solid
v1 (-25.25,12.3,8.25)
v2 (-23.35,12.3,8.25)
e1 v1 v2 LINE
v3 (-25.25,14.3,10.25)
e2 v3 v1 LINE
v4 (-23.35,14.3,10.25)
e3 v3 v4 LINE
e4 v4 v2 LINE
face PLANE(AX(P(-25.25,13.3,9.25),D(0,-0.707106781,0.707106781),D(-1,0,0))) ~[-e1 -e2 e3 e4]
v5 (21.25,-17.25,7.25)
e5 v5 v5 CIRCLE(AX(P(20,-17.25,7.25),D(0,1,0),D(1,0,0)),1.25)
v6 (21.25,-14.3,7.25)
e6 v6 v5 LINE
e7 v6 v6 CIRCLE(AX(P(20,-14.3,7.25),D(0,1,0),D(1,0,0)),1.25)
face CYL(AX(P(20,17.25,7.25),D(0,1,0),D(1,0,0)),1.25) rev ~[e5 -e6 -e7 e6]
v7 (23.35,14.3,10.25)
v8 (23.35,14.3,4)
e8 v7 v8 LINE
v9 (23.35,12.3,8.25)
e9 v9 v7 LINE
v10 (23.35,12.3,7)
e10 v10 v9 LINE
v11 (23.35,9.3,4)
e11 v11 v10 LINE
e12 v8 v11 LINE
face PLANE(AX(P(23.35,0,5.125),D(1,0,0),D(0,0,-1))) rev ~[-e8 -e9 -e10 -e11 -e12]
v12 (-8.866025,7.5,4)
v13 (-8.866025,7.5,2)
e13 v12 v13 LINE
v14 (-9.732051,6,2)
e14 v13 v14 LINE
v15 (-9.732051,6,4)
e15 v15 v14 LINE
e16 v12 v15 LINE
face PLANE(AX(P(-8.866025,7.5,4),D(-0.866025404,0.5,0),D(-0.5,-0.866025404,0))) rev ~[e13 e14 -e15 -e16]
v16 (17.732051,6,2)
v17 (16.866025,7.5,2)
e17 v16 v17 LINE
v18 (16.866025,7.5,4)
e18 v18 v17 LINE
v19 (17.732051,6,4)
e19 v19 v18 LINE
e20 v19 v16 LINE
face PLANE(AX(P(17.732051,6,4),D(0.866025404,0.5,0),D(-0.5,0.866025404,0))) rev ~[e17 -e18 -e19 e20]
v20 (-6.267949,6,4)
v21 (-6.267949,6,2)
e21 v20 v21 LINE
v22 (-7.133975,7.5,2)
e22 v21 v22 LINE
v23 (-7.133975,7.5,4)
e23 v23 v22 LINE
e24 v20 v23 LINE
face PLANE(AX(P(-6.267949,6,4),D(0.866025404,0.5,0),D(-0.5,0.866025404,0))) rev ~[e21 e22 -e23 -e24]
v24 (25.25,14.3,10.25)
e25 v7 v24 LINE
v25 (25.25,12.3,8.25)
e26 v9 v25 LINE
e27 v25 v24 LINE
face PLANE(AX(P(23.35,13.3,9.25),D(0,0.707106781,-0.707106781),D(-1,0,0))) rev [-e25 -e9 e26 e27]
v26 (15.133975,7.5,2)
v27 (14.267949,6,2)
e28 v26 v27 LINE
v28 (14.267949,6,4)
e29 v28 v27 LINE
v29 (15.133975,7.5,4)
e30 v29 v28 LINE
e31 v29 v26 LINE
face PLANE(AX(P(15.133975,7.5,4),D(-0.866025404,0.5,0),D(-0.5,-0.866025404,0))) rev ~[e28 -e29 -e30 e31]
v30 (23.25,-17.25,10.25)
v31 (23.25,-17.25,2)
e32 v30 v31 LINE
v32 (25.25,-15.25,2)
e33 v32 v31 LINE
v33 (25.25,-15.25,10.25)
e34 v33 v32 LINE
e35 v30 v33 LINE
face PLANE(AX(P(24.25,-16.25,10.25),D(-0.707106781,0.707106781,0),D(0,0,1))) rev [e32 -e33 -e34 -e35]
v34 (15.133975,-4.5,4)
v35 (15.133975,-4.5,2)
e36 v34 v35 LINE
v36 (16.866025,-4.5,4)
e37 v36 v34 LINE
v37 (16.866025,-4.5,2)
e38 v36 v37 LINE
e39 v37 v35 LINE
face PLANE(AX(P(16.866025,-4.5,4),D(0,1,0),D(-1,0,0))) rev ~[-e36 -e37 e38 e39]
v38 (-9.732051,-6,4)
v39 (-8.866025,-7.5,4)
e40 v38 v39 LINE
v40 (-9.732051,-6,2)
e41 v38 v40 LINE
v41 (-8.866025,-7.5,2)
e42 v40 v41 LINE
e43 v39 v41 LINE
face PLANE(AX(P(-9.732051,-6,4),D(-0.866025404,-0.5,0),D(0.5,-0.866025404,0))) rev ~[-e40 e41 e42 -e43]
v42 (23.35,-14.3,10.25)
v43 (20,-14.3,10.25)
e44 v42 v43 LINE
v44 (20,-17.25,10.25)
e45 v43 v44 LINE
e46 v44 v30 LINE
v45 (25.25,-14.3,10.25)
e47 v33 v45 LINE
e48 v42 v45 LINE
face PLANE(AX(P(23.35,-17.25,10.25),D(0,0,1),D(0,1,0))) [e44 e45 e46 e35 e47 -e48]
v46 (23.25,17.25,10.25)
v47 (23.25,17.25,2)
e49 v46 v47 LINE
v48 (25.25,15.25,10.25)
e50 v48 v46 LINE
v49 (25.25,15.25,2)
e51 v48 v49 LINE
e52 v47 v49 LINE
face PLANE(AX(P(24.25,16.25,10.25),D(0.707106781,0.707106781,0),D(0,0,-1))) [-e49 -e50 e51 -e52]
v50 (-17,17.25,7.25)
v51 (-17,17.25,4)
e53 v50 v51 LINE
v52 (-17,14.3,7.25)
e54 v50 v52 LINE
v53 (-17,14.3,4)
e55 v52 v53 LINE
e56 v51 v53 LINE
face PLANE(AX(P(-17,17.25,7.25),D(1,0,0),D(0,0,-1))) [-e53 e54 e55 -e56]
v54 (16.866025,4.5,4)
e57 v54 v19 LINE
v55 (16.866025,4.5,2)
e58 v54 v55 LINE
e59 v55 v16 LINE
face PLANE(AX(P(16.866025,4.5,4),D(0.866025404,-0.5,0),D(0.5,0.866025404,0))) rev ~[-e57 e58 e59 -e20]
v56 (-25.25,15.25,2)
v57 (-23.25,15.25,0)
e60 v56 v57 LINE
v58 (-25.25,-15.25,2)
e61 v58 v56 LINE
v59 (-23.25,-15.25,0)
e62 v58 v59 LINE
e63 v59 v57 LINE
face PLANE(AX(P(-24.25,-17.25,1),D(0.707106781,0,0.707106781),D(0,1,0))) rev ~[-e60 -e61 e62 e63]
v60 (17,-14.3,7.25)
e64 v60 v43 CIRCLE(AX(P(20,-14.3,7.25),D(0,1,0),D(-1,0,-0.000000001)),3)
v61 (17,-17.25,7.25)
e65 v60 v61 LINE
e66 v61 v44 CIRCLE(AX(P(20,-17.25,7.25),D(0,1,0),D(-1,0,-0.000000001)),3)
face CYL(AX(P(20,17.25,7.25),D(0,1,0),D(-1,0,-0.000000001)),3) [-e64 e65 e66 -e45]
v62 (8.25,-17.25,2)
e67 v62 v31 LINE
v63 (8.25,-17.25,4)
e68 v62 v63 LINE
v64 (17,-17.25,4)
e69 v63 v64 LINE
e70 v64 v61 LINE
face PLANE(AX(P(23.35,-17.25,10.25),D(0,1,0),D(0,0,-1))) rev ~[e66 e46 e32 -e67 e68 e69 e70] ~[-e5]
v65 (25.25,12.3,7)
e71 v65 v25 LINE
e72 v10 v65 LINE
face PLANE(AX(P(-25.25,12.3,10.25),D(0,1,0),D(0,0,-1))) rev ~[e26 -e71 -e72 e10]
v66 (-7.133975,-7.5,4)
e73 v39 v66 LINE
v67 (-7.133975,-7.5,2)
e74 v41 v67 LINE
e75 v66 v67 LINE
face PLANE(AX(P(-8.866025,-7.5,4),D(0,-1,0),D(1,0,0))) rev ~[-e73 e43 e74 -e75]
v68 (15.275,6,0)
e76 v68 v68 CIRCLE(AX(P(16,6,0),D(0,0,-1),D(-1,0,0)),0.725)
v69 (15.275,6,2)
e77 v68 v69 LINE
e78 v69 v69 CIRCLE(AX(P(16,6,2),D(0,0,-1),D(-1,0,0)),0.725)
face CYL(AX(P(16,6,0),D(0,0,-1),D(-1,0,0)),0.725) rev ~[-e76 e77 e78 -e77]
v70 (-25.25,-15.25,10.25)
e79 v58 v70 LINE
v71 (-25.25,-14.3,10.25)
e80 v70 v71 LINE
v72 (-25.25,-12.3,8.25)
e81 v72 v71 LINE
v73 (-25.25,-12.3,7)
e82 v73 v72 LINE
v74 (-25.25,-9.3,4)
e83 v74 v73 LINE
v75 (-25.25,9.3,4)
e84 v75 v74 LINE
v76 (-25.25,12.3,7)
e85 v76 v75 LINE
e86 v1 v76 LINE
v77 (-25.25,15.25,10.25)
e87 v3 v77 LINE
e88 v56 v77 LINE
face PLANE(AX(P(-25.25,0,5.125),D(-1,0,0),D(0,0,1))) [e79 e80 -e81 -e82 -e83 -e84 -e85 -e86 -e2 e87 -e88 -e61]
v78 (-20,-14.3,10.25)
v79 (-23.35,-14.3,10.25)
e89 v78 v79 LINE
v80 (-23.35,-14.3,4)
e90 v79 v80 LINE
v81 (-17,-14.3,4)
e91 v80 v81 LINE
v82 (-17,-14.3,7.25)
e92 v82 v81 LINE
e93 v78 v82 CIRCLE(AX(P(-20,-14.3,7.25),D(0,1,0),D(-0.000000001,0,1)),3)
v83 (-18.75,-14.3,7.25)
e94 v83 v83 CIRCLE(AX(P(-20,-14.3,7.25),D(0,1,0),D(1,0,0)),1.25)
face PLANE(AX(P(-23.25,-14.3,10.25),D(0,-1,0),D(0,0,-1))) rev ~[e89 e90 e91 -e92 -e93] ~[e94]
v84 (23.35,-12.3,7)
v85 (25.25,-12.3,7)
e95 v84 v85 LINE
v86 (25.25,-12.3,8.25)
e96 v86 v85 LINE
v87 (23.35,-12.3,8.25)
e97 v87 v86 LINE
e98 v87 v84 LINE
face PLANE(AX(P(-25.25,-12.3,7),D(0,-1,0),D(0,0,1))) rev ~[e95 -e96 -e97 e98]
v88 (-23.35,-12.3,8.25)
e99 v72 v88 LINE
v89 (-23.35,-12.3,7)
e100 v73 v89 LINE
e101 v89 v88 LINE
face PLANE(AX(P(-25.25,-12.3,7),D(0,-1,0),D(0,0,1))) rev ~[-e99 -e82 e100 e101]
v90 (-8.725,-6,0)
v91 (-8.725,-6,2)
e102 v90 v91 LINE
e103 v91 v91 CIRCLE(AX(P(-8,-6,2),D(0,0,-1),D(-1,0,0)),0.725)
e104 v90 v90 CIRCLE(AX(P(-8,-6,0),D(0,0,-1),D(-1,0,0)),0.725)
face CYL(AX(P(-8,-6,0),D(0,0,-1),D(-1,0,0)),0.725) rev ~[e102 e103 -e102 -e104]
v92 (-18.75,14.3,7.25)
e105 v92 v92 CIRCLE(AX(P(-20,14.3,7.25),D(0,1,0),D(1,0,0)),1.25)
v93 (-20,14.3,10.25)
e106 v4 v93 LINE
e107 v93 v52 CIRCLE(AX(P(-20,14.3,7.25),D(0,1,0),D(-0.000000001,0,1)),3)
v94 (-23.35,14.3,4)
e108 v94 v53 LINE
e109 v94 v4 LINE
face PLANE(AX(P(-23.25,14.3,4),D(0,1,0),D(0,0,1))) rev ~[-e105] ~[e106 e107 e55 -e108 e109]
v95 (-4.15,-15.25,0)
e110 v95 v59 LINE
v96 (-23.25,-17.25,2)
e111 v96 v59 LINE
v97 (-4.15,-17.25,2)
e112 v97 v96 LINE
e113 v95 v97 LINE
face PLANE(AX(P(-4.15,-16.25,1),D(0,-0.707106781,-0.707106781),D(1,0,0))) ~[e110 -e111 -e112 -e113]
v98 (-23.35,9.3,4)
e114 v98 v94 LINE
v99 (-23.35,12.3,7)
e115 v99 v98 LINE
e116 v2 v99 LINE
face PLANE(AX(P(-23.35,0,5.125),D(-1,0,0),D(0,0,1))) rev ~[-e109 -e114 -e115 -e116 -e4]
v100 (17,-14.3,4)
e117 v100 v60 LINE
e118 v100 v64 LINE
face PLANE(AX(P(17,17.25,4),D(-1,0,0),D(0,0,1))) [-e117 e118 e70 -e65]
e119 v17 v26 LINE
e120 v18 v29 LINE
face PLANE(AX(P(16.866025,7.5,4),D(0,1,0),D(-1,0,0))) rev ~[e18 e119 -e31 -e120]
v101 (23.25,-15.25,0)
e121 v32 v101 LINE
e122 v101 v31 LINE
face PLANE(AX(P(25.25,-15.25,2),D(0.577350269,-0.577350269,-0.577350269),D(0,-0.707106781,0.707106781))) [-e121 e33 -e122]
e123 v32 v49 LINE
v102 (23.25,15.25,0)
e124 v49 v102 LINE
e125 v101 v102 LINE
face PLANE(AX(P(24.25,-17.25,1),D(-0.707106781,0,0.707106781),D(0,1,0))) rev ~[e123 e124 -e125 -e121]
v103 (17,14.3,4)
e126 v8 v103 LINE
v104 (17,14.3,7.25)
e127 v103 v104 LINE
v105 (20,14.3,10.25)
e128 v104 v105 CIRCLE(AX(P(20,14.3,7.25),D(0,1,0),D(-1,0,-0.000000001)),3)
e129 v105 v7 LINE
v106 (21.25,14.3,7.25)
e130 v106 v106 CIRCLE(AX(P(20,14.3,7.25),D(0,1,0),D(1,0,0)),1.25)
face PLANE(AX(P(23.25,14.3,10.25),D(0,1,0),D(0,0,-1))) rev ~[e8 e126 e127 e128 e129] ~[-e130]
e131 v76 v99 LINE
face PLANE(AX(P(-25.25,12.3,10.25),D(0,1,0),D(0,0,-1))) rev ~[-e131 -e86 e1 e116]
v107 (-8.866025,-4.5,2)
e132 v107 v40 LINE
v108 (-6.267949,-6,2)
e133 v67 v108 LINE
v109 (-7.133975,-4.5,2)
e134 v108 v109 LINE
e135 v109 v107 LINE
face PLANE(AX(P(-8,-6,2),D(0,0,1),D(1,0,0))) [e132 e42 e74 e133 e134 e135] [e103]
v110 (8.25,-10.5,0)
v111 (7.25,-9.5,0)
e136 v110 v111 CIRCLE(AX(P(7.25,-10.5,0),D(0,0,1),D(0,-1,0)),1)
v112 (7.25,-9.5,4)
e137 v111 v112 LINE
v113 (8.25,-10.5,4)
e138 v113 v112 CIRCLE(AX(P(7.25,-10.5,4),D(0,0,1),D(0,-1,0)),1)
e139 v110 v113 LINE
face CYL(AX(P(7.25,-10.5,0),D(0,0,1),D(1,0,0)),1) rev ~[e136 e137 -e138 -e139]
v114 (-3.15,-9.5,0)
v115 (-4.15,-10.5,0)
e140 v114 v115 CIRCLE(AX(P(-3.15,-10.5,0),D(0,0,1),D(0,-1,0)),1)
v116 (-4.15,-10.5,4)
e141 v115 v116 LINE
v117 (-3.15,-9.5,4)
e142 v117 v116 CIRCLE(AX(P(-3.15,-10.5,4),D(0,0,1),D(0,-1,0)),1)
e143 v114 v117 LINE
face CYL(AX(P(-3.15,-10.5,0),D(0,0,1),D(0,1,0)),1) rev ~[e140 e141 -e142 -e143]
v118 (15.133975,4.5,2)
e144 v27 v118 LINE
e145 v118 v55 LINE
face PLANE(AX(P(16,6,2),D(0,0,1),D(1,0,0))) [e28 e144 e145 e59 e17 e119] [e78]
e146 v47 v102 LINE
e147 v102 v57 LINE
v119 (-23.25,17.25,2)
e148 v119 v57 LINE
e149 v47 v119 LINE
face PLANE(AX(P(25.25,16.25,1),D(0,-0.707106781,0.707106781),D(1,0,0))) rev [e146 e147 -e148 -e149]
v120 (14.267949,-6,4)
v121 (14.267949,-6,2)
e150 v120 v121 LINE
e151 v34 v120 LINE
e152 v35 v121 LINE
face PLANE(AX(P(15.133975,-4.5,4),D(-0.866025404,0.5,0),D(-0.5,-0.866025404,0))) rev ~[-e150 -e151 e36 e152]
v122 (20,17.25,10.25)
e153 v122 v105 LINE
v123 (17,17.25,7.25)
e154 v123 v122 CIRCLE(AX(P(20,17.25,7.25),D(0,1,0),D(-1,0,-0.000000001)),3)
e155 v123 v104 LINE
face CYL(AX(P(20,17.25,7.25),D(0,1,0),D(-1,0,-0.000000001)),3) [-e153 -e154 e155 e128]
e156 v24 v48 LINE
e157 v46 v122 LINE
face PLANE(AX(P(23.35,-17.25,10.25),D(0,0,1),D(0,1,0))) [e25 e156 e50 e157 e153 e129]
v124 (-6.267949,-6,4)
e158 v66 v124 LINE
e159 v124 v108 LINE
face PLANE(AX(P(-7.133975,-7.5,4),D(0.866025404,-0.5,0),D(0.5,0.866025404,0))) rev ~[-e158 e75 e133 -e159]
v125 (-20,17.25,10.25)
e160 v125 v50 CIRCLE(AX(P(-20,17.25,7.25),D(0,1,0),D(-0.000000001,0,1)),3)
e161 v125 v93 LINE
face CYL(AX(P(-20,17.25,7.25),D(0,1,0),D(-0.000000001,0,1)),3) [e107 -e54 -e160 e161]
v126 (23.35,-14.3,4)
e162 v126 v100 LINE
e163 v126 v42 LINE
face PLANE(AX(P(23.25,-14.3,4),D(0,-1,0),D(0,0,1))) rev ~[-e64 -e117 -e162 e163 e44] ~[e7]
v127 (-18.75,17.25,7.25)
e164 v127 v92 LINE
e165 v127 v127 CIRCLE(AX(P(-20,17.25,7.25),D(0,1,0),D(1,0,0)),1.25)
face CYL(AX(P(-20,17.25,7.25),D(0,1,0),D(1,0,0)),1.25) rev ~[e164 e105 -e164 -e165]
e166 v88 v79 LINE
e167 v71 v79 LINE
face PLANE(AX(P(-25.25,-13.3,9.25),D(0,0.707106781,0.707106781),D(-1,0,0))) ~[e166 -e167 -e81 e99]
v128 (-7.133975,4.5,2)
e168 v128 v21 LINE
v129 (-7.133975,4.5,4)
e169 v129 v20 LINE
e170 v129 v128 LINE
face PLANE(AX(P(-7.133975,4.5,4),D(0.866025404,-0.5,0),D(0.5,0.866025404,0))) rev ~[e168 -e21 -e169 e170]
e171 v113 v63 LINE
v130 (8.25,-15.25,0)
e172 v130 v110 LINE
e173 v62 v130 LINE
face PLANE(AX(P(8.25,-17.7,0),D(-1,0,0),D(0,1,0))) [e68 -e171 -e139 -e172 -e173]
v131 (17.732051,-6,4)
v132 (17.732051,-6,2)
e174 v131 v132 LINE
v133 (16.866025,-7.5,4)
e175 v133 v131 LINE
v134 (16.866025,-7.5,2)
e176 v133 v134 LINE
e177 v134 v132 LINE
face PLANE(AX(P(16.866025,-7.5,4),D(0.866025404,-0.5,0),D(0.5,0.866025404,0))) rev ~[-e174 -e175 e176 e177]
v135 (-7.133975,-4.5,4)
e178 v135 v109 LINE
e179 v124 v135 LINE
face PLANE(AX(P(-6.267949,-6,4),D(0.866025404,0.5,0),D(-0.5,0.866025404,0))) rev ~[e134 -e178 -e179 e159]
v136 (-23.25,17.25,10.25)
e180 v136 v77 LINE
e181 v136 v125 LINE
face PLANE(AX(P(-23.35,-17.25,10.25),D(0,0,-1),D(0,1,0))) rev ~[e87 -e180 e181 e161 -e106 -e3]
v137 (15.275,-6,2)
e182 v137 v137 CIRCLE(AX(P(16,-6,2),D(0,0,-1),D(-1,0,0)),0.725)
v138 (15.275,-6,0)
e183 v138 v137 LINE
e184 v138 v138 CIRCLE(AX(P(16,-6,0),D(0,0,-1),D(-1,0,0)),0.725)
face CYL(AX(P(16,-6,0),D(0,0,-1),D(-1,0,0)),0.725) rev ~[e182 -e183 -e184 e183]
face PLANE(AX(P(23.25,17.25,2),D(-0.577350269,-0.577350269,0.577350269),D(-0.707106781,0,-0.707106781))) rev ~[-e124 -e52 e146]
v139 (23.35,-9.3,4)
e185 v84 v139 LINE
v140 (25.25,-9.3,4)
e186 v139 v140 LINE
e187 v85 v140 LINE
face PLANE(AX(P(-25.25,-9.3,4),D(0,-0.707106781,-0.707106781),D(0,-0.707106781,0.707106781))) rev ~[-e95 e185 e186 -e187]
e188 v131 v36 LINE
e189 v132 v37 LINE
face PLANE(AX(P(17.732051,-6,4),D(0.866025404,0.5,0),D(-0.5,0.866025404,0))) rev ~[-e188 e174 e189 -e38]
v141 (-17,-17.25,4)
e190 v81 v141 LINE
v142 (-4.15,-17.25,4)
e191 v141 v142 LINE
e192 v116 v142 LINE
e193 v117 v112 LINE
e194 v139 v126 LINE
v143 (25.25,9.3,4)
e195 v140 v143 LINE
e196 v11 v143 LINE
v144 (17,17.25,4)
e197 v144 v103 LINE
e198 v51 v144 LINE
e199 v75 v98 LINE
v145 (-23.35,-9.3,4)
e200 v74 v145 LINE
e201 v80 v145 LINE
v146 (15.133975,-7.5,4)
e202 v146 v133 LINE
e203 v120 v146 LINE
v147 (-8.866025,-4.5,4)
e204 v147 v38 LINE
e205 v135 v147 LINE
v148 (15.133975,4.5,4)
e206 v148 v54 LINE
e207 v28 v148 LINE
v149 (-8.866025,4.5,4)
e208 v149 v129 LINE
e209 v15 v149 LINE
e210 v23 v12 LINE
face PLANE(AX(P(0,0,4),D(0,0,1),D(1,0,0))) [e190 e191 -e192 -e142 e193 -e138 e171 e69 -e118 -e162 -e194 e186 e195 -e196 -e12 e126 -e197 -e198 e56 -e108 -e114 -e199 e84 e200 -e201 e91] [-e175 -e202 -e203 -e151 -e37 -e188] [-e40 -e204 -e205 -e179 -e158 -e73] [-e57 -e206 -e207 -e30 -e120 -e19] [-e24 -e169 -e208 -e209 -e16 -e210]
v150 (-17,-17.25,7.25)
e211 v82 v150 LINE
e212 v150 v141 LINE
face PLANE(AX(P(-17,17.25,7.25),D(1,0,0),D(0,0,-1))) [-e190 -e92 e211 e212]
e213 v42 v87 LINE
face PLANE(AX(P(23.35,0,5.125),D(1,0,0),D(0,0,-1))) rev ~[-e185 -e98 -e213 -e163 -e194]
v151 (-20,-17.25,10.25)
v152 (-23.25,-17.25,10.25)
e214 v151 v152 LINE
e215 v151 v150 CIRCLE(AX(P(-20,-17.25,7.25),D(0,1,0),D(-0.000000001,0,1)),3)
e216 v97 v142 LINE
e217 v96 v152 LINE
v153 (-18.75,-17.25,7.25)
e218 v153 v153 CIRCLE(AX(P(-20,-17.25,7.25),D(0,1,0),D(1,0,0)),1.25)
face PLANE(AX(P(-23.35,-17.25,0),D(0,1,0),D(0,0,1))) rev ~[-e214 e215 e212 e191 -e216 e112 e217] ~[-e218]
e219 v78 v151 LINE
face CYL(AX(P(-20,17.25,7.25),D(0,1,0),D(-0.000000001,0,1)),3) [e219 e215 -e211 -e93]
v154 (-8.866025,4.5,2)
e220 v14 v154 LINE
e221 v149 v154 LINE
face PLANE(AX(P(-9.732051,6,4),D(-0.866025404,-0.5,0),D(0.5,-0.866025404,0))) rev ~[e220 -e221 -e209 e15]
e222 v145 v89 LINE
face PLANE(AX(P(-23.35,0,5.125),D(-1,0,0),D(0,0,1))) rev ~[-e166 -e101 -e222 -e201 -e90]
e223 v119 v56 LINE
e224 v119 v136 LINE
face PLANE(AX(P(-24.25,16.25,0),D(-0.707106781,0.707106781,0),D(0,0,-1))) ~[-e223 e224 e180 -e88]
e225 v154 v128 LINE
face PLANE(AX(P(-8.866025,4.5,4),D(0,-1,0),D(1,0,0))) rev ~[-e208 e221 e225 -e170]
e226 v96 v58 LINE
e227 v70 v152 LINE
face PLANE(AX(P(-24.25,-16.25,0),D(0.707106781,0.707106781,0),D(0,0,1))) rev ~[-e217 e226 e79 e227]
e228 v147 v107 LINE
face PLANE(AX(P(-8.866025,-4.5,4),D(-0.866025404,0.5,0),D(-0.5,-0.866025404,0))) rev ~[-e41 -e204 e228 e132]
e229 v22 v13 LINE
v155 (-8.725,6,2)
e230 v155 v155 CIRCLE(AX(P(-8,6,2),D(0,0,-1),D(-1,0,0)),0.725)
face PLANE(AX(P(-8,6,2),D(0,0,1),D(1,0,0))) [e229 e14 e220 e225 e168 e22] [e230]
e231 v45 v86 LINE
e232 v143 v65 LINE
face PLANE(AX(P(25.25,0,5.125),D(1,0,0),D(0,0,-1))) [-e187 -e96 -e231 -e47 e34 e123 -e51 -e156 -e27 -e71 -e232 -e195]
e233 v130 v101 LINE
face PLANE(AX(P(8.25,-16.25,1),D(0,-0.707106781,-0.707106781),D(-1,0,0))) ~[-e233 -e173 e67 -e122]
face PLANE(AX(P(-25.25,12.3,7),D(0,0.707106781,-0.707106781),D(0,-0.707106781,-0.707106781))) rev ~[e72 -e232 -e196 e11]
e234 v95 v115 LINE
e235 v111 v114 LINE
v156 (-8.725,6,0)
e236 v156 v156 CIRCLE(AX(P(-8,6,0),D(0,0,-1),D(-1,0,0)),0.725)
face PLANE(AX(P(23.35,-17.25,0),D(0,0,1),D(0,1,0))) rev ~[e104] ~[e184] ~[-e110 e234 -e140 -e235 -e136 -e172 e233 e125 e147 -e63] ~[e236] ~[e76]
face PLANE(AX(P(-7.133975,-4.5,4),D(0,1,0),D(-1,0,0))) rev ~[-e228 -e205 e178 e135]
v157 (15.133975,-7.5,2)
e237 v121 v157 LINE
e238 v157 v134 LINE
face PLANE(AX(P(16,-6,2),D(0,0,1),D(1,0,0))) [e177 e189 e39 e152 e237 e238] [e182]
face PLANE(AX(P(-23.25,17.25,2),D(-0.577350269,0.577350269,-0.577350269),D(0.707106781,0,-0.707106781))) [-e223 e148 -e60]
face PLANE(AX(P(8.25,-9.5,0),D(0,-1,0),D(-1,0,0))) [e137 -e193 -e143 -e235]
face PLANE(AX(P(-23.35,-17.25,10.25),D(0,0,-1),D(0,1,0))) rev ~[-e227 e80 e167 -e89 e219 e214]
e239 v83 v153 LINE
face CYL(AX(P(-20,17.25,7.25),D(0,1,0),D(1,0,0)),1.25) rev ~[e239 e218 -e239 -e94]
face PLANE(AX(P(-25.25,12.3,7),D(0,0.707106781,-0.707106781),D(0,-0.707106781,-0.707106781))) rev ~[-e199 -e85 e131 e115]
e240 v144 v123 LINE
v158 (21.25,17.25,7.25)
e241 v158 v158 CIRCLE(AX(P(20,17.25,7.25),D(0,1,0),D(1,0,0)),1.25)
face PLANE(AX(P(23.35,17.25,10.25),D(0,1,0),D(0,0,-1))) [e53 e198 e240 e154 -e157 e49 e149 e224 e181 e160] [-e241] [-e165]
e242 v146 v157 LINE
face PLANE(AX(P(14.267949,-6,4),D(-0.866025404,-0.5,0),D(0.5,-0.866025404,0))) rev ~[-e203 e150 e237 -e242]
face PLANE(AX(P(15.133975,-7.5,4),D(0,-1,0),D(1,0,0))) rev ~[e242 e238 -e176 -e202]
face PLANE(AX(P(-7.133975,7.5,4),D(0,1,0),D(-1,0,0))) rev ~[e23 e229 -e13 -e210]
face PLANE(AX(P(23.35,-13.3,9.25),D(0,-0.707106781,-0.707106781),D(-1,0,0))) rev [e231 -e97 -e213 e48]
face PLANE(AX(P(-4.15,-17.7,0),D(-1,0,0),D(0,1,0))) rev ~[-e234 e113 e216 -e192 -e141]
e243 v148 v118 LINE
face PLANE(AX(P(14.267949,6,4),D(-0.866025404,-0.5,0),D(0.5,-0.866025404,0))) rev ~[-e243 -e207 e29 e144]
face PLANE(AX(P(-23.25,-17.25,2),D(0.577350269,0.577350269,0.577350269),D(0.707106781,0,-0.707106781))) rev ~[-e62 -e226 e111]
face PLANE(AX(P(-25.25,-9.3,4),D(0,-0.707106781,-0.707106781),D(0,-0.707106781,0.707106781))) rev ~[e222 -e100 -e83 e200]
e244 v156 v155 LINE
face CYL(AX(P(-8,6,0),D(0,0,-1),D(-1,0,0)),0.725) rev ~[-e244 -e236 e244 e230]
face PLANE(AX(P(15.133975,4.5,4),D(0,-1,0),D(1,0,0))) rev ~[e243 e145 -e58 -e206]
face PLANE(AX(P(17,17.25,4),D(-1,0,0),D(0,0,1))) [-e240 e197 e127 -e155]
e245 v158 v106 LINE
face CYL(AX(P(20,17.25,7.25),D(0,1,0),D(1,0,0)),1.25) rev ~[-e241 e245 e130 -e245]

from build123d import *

# Parameters (mm, degrees)
SKETCH1_W           = 46.5
SKETCH1_H           = 34.5
BOSS_EXTRUDE1_DEPTH = 4
SKETCH2_W           = 46.5
SKETCH2_H           = 2.95
BOSS_EXTRUDE2_DEPTH = 6.5
SKETCH3_R           = 1.25
CUT_EXTRUDE1_DEPTH  = 35.5
CUT_EXTRUDE8_DEPTH  = 35.5
SKETCH5_R           = 0.725
CUT_EXTRUDE3_DEPTH  = 11.25
SKETCH21_W          = 12.4
SKETCH21_H          = 8.2
CUT_EXTRUDE11_DEPTH = 11.25
BOSS_EXTRUDE3_DEPTH = 0.1
BOSS_EXTRUDE4_DEPTH = 0.1
SKETCH17_W          = 10.25
SKETCH17_H          = 34.5
BOSS_EXTRUDE6_DEPTH = 1.9
SKETCH18_W          = 10.25
SKETCH18_H          = 34.5
BOSS_EXTRUDE7_DEPTH = 1.9
CUT_EXTRUDE10_DEPTH = 51.5
CHAMFER1_SIZE       = 2
FILLET2_R           = 1
CUT_EXTRUDE12_DEPTH = 2


with BuildPart() as part:
    # Sketch1 → Boss-Extrude1 (new body)
    with BuildSketch(Plane.XY):
        Rectangle(SKETCH1_W, SKETCH1_H)
    extrude(amount=BOSS_EXTRUDE1_DEPTH)

    # Sketch2 → Boss-Extrude2 (add)
    with BuildSketch(Plane.XY.offset(4)):
        with Locations((0, 15.775)):
            Rectangle(SKETCH2_W, SKETCH2_H)
        with Locations((0, -15.775)):
            Rectangle(SKETCH2_W, SKETCH2_H)
    extrude(amount=BOSS_EXTRUDE2_DEPTH)

    # Sketch3 → Cut-Extrude1 (cut, through all)
    with BuildSketch(Plane(origin=(0, 17.25, 0), x_dir=(1, 0, 0), z_dir=(0, 1, 0))):
        with Locations((-20, -7.25)):
            Circle(SKETCH3_R)
        with Locations((20, -7.25)):
            Circle(SKETCH3_R)
    extrude(amount=-CUT_EXTRUDE1_DEPTH, mode=Mode.SUBTRACT)

    # Sketch11 → Cut-Extrude8 (cut, through all)
    with BuildSketch(Plane(origin=(0, 17.25, 0), x_dir=(1, 0, 0), z_dir=(0, 1, 0))):
        with BuildLine():
            Line((-17, -7.25), (-17, -4))
            Line((-17, -4), (17, -4))
            Line((17, -4), (17, -7.25))
            ThreePointArc((17, -7.25), (17.878679656, -9.371320344), (20, -10.25))
            Line((20, -10.25), (23.25, -10.25))
            Line((23.25, -10.25), (23.25, -10.5))
            Line((23.25, -10.5), (-23.25, -10.5))
            Line((-23.25, -10.5), (-23.25, -10.25))
            Line((-23.25, -10.25), (-20, -10.25))
            ThreePointArc((-20, -10.25), (-17.878679656, -9.371320344), (-17, -7.25))
        make_face()
    extrude(amount=-CUT_EXTRUDE8_DEPTH, mode=Mode.SUBTRACT)

    # Sketch5 → Cut-Extrude3 (cut, through all)
    with BuildSketch(Plane(origin=(0, 0, 0), x_dir=(-1, 0, 0), z_dir=(0, 0, -1))):
        with Locations((8, 6)):
            Circle(SKETCH5_R)
        with Locations((8, -6)):
            Circle(SKETCH5_R)
        with Locations((-16, -6)):
            Circle(SKETCH5_R)
        with Locations((-16, 6)):
            Circle(SKETCH5_R)
    extrude(amount=-CUT_EXTRUDE3_DEPTH, mode=Mode.SUBTRACT)

    # Sketch21 → Cut-Extrude11 (cut, through all)
    with BuildSketch(Plane(origin=(0, 0, 0), x_dir=(-1, 0, 0), z_dir=(0, 0, -1))):
        with Locations((-2.05, -13.6)):
            Rectangle(SKETCH21_W, SKETCH21_H)
    extrude(amount=-CUT_EXTRUDE11_DEPTH, mode=Mode.SUBTRACT)

    # Sketch14 → Boss-Extrude3 (add)
    with BuildSketch(Plane.ZY.offset(23.25)):
        Polygon((10.25, 17.25), (0, 17.25), (0, -17.25), (10.25, -17.25), (10.25, -14.3), (4, -14.3), (4, 14.3), (10.25, 14.3), align=None)
    extrude(amount=BOSS_EXTRUDE3_DEPTH)

    # Sketch15 → Boss-Extrude4 (add)
    with BuildSketch(Plane(origin=(23.25, 0, 0), x_dir=(0, 0, -1), z_dir=(1, 0, 0))):
        Polygon((-10.25, -17.25), (0, -17.25), (0, 17.25), (-10.25, 17.25), (-10.25, 14.3), (-4, 14.3), (-4, -14.3), (-10.25, -14.3), align=None)
    extrude(amount=BOSS_EXTRUDE4_DEPTH)

    # Sketch17 → Boss-Extrude6 (add)
    with BuildSketch(Plane.ZY.offset(23.35)):
        with Locations((5.125, 0)):
            Rectangle(SKETCH17_W, SKETCH17_H)
    extrude(amount=BOSS_EXTRUDE6_DEPTH)

    # Sketch18 → Boss-Extrude7 (add)
    with BuildSketch(Plane(origin=(23.35, 0, 0), x_dir=(0, 0, -1), z_dir=(1, 0, 0))):
        with Locations((-5.125, 0)):
            Rectangle(SKETCH18_W, SKETCH18_H)
    extrude(amount=BOSS_EXTRUDE7_DEPTH)

    # Sketch19 → Cut-Extrude10 (cut, through all)
    with BuildSketch(Plane.ZY.offset(25.25)):
        Polygon((10.25, 12.3), (7, 12.3), (4, 9.3), (4, -9.3), (7, -12.3), (10.25, -12.3), align=None)
    extrude(amount=-CUT_EXTRUDE10_DEPTH, mode=Mode.SUBTRACT)

    # Chamfer1
    chamfer1_edges = [part.edges().sort_by_distance(p)[0] for p in [
        (16.75, -17.25, 0),
        (-25.25, 0, 0),
        (-25.25, -17.25, 5.125),
        (-25.25, 17.25, 5.125),
        (25.25, 0, 0),
        (25.25, 17.25, 5.125),
        (25.25, -17.25, 5.125),
        (-24.3, 12.3, 10.25),
        (-24.3, -12.3, 10.25),
        (24.3, 12.3, 10.25),
        (24.3, -12.3, 10.25),
        (0, 17.25, 0),
        (-14.7, -17.25, 0),
    ]]
    chamfer(chamfer1_edges, length=CHAMFER1_SIZE)

    # Fillet2
    fillet2_edges = [part.edges().sort_by_distance(p)[0] for p in [
        (-4.15, -9.5, 2),
        (8.25, -9.5, 2),
    ]]
    fillet(fillet2_edges, radius=FILLET2_R)

    # Sketch22 → Cut-Extrude12 (cut)
    with BuildSketch(Plane.XY.offset(4)):
        Polygon((-7.133974596, 4.5), (-6.267949192, 6), (-7.133974596, 7.5), (-8.866025404, 7.5), (-9.732050808, 6), (-8.866025404, 4.5), align=None)
        Polygon((-7.133974596, -7.5), (-6.267949192, -6), (-7.133974596, -4.5), (-8.866025404, -4.5), (-9.732050808, -6), (-8.866025404, -7.5), align=None)
        Polygon((16.866025404, -7.5), (17.732050808, -6), (16.866025404, -4.5), (15.133974596, -4.5), (14.267949192, -6), (15.133974596, -7.5), align=None)
        Polygon((16.866025404, 4.5), (17.732050808, 6), (16.866025404, 7.5), (15.133974596, 7.5), (14.267949192, 6), (15.133974596, 4.5), align=None)
    extrude(amount=-CUT_EXTRUDE12_DEPTH, mode=Mode.SUBTRACT)


solid = part.part
